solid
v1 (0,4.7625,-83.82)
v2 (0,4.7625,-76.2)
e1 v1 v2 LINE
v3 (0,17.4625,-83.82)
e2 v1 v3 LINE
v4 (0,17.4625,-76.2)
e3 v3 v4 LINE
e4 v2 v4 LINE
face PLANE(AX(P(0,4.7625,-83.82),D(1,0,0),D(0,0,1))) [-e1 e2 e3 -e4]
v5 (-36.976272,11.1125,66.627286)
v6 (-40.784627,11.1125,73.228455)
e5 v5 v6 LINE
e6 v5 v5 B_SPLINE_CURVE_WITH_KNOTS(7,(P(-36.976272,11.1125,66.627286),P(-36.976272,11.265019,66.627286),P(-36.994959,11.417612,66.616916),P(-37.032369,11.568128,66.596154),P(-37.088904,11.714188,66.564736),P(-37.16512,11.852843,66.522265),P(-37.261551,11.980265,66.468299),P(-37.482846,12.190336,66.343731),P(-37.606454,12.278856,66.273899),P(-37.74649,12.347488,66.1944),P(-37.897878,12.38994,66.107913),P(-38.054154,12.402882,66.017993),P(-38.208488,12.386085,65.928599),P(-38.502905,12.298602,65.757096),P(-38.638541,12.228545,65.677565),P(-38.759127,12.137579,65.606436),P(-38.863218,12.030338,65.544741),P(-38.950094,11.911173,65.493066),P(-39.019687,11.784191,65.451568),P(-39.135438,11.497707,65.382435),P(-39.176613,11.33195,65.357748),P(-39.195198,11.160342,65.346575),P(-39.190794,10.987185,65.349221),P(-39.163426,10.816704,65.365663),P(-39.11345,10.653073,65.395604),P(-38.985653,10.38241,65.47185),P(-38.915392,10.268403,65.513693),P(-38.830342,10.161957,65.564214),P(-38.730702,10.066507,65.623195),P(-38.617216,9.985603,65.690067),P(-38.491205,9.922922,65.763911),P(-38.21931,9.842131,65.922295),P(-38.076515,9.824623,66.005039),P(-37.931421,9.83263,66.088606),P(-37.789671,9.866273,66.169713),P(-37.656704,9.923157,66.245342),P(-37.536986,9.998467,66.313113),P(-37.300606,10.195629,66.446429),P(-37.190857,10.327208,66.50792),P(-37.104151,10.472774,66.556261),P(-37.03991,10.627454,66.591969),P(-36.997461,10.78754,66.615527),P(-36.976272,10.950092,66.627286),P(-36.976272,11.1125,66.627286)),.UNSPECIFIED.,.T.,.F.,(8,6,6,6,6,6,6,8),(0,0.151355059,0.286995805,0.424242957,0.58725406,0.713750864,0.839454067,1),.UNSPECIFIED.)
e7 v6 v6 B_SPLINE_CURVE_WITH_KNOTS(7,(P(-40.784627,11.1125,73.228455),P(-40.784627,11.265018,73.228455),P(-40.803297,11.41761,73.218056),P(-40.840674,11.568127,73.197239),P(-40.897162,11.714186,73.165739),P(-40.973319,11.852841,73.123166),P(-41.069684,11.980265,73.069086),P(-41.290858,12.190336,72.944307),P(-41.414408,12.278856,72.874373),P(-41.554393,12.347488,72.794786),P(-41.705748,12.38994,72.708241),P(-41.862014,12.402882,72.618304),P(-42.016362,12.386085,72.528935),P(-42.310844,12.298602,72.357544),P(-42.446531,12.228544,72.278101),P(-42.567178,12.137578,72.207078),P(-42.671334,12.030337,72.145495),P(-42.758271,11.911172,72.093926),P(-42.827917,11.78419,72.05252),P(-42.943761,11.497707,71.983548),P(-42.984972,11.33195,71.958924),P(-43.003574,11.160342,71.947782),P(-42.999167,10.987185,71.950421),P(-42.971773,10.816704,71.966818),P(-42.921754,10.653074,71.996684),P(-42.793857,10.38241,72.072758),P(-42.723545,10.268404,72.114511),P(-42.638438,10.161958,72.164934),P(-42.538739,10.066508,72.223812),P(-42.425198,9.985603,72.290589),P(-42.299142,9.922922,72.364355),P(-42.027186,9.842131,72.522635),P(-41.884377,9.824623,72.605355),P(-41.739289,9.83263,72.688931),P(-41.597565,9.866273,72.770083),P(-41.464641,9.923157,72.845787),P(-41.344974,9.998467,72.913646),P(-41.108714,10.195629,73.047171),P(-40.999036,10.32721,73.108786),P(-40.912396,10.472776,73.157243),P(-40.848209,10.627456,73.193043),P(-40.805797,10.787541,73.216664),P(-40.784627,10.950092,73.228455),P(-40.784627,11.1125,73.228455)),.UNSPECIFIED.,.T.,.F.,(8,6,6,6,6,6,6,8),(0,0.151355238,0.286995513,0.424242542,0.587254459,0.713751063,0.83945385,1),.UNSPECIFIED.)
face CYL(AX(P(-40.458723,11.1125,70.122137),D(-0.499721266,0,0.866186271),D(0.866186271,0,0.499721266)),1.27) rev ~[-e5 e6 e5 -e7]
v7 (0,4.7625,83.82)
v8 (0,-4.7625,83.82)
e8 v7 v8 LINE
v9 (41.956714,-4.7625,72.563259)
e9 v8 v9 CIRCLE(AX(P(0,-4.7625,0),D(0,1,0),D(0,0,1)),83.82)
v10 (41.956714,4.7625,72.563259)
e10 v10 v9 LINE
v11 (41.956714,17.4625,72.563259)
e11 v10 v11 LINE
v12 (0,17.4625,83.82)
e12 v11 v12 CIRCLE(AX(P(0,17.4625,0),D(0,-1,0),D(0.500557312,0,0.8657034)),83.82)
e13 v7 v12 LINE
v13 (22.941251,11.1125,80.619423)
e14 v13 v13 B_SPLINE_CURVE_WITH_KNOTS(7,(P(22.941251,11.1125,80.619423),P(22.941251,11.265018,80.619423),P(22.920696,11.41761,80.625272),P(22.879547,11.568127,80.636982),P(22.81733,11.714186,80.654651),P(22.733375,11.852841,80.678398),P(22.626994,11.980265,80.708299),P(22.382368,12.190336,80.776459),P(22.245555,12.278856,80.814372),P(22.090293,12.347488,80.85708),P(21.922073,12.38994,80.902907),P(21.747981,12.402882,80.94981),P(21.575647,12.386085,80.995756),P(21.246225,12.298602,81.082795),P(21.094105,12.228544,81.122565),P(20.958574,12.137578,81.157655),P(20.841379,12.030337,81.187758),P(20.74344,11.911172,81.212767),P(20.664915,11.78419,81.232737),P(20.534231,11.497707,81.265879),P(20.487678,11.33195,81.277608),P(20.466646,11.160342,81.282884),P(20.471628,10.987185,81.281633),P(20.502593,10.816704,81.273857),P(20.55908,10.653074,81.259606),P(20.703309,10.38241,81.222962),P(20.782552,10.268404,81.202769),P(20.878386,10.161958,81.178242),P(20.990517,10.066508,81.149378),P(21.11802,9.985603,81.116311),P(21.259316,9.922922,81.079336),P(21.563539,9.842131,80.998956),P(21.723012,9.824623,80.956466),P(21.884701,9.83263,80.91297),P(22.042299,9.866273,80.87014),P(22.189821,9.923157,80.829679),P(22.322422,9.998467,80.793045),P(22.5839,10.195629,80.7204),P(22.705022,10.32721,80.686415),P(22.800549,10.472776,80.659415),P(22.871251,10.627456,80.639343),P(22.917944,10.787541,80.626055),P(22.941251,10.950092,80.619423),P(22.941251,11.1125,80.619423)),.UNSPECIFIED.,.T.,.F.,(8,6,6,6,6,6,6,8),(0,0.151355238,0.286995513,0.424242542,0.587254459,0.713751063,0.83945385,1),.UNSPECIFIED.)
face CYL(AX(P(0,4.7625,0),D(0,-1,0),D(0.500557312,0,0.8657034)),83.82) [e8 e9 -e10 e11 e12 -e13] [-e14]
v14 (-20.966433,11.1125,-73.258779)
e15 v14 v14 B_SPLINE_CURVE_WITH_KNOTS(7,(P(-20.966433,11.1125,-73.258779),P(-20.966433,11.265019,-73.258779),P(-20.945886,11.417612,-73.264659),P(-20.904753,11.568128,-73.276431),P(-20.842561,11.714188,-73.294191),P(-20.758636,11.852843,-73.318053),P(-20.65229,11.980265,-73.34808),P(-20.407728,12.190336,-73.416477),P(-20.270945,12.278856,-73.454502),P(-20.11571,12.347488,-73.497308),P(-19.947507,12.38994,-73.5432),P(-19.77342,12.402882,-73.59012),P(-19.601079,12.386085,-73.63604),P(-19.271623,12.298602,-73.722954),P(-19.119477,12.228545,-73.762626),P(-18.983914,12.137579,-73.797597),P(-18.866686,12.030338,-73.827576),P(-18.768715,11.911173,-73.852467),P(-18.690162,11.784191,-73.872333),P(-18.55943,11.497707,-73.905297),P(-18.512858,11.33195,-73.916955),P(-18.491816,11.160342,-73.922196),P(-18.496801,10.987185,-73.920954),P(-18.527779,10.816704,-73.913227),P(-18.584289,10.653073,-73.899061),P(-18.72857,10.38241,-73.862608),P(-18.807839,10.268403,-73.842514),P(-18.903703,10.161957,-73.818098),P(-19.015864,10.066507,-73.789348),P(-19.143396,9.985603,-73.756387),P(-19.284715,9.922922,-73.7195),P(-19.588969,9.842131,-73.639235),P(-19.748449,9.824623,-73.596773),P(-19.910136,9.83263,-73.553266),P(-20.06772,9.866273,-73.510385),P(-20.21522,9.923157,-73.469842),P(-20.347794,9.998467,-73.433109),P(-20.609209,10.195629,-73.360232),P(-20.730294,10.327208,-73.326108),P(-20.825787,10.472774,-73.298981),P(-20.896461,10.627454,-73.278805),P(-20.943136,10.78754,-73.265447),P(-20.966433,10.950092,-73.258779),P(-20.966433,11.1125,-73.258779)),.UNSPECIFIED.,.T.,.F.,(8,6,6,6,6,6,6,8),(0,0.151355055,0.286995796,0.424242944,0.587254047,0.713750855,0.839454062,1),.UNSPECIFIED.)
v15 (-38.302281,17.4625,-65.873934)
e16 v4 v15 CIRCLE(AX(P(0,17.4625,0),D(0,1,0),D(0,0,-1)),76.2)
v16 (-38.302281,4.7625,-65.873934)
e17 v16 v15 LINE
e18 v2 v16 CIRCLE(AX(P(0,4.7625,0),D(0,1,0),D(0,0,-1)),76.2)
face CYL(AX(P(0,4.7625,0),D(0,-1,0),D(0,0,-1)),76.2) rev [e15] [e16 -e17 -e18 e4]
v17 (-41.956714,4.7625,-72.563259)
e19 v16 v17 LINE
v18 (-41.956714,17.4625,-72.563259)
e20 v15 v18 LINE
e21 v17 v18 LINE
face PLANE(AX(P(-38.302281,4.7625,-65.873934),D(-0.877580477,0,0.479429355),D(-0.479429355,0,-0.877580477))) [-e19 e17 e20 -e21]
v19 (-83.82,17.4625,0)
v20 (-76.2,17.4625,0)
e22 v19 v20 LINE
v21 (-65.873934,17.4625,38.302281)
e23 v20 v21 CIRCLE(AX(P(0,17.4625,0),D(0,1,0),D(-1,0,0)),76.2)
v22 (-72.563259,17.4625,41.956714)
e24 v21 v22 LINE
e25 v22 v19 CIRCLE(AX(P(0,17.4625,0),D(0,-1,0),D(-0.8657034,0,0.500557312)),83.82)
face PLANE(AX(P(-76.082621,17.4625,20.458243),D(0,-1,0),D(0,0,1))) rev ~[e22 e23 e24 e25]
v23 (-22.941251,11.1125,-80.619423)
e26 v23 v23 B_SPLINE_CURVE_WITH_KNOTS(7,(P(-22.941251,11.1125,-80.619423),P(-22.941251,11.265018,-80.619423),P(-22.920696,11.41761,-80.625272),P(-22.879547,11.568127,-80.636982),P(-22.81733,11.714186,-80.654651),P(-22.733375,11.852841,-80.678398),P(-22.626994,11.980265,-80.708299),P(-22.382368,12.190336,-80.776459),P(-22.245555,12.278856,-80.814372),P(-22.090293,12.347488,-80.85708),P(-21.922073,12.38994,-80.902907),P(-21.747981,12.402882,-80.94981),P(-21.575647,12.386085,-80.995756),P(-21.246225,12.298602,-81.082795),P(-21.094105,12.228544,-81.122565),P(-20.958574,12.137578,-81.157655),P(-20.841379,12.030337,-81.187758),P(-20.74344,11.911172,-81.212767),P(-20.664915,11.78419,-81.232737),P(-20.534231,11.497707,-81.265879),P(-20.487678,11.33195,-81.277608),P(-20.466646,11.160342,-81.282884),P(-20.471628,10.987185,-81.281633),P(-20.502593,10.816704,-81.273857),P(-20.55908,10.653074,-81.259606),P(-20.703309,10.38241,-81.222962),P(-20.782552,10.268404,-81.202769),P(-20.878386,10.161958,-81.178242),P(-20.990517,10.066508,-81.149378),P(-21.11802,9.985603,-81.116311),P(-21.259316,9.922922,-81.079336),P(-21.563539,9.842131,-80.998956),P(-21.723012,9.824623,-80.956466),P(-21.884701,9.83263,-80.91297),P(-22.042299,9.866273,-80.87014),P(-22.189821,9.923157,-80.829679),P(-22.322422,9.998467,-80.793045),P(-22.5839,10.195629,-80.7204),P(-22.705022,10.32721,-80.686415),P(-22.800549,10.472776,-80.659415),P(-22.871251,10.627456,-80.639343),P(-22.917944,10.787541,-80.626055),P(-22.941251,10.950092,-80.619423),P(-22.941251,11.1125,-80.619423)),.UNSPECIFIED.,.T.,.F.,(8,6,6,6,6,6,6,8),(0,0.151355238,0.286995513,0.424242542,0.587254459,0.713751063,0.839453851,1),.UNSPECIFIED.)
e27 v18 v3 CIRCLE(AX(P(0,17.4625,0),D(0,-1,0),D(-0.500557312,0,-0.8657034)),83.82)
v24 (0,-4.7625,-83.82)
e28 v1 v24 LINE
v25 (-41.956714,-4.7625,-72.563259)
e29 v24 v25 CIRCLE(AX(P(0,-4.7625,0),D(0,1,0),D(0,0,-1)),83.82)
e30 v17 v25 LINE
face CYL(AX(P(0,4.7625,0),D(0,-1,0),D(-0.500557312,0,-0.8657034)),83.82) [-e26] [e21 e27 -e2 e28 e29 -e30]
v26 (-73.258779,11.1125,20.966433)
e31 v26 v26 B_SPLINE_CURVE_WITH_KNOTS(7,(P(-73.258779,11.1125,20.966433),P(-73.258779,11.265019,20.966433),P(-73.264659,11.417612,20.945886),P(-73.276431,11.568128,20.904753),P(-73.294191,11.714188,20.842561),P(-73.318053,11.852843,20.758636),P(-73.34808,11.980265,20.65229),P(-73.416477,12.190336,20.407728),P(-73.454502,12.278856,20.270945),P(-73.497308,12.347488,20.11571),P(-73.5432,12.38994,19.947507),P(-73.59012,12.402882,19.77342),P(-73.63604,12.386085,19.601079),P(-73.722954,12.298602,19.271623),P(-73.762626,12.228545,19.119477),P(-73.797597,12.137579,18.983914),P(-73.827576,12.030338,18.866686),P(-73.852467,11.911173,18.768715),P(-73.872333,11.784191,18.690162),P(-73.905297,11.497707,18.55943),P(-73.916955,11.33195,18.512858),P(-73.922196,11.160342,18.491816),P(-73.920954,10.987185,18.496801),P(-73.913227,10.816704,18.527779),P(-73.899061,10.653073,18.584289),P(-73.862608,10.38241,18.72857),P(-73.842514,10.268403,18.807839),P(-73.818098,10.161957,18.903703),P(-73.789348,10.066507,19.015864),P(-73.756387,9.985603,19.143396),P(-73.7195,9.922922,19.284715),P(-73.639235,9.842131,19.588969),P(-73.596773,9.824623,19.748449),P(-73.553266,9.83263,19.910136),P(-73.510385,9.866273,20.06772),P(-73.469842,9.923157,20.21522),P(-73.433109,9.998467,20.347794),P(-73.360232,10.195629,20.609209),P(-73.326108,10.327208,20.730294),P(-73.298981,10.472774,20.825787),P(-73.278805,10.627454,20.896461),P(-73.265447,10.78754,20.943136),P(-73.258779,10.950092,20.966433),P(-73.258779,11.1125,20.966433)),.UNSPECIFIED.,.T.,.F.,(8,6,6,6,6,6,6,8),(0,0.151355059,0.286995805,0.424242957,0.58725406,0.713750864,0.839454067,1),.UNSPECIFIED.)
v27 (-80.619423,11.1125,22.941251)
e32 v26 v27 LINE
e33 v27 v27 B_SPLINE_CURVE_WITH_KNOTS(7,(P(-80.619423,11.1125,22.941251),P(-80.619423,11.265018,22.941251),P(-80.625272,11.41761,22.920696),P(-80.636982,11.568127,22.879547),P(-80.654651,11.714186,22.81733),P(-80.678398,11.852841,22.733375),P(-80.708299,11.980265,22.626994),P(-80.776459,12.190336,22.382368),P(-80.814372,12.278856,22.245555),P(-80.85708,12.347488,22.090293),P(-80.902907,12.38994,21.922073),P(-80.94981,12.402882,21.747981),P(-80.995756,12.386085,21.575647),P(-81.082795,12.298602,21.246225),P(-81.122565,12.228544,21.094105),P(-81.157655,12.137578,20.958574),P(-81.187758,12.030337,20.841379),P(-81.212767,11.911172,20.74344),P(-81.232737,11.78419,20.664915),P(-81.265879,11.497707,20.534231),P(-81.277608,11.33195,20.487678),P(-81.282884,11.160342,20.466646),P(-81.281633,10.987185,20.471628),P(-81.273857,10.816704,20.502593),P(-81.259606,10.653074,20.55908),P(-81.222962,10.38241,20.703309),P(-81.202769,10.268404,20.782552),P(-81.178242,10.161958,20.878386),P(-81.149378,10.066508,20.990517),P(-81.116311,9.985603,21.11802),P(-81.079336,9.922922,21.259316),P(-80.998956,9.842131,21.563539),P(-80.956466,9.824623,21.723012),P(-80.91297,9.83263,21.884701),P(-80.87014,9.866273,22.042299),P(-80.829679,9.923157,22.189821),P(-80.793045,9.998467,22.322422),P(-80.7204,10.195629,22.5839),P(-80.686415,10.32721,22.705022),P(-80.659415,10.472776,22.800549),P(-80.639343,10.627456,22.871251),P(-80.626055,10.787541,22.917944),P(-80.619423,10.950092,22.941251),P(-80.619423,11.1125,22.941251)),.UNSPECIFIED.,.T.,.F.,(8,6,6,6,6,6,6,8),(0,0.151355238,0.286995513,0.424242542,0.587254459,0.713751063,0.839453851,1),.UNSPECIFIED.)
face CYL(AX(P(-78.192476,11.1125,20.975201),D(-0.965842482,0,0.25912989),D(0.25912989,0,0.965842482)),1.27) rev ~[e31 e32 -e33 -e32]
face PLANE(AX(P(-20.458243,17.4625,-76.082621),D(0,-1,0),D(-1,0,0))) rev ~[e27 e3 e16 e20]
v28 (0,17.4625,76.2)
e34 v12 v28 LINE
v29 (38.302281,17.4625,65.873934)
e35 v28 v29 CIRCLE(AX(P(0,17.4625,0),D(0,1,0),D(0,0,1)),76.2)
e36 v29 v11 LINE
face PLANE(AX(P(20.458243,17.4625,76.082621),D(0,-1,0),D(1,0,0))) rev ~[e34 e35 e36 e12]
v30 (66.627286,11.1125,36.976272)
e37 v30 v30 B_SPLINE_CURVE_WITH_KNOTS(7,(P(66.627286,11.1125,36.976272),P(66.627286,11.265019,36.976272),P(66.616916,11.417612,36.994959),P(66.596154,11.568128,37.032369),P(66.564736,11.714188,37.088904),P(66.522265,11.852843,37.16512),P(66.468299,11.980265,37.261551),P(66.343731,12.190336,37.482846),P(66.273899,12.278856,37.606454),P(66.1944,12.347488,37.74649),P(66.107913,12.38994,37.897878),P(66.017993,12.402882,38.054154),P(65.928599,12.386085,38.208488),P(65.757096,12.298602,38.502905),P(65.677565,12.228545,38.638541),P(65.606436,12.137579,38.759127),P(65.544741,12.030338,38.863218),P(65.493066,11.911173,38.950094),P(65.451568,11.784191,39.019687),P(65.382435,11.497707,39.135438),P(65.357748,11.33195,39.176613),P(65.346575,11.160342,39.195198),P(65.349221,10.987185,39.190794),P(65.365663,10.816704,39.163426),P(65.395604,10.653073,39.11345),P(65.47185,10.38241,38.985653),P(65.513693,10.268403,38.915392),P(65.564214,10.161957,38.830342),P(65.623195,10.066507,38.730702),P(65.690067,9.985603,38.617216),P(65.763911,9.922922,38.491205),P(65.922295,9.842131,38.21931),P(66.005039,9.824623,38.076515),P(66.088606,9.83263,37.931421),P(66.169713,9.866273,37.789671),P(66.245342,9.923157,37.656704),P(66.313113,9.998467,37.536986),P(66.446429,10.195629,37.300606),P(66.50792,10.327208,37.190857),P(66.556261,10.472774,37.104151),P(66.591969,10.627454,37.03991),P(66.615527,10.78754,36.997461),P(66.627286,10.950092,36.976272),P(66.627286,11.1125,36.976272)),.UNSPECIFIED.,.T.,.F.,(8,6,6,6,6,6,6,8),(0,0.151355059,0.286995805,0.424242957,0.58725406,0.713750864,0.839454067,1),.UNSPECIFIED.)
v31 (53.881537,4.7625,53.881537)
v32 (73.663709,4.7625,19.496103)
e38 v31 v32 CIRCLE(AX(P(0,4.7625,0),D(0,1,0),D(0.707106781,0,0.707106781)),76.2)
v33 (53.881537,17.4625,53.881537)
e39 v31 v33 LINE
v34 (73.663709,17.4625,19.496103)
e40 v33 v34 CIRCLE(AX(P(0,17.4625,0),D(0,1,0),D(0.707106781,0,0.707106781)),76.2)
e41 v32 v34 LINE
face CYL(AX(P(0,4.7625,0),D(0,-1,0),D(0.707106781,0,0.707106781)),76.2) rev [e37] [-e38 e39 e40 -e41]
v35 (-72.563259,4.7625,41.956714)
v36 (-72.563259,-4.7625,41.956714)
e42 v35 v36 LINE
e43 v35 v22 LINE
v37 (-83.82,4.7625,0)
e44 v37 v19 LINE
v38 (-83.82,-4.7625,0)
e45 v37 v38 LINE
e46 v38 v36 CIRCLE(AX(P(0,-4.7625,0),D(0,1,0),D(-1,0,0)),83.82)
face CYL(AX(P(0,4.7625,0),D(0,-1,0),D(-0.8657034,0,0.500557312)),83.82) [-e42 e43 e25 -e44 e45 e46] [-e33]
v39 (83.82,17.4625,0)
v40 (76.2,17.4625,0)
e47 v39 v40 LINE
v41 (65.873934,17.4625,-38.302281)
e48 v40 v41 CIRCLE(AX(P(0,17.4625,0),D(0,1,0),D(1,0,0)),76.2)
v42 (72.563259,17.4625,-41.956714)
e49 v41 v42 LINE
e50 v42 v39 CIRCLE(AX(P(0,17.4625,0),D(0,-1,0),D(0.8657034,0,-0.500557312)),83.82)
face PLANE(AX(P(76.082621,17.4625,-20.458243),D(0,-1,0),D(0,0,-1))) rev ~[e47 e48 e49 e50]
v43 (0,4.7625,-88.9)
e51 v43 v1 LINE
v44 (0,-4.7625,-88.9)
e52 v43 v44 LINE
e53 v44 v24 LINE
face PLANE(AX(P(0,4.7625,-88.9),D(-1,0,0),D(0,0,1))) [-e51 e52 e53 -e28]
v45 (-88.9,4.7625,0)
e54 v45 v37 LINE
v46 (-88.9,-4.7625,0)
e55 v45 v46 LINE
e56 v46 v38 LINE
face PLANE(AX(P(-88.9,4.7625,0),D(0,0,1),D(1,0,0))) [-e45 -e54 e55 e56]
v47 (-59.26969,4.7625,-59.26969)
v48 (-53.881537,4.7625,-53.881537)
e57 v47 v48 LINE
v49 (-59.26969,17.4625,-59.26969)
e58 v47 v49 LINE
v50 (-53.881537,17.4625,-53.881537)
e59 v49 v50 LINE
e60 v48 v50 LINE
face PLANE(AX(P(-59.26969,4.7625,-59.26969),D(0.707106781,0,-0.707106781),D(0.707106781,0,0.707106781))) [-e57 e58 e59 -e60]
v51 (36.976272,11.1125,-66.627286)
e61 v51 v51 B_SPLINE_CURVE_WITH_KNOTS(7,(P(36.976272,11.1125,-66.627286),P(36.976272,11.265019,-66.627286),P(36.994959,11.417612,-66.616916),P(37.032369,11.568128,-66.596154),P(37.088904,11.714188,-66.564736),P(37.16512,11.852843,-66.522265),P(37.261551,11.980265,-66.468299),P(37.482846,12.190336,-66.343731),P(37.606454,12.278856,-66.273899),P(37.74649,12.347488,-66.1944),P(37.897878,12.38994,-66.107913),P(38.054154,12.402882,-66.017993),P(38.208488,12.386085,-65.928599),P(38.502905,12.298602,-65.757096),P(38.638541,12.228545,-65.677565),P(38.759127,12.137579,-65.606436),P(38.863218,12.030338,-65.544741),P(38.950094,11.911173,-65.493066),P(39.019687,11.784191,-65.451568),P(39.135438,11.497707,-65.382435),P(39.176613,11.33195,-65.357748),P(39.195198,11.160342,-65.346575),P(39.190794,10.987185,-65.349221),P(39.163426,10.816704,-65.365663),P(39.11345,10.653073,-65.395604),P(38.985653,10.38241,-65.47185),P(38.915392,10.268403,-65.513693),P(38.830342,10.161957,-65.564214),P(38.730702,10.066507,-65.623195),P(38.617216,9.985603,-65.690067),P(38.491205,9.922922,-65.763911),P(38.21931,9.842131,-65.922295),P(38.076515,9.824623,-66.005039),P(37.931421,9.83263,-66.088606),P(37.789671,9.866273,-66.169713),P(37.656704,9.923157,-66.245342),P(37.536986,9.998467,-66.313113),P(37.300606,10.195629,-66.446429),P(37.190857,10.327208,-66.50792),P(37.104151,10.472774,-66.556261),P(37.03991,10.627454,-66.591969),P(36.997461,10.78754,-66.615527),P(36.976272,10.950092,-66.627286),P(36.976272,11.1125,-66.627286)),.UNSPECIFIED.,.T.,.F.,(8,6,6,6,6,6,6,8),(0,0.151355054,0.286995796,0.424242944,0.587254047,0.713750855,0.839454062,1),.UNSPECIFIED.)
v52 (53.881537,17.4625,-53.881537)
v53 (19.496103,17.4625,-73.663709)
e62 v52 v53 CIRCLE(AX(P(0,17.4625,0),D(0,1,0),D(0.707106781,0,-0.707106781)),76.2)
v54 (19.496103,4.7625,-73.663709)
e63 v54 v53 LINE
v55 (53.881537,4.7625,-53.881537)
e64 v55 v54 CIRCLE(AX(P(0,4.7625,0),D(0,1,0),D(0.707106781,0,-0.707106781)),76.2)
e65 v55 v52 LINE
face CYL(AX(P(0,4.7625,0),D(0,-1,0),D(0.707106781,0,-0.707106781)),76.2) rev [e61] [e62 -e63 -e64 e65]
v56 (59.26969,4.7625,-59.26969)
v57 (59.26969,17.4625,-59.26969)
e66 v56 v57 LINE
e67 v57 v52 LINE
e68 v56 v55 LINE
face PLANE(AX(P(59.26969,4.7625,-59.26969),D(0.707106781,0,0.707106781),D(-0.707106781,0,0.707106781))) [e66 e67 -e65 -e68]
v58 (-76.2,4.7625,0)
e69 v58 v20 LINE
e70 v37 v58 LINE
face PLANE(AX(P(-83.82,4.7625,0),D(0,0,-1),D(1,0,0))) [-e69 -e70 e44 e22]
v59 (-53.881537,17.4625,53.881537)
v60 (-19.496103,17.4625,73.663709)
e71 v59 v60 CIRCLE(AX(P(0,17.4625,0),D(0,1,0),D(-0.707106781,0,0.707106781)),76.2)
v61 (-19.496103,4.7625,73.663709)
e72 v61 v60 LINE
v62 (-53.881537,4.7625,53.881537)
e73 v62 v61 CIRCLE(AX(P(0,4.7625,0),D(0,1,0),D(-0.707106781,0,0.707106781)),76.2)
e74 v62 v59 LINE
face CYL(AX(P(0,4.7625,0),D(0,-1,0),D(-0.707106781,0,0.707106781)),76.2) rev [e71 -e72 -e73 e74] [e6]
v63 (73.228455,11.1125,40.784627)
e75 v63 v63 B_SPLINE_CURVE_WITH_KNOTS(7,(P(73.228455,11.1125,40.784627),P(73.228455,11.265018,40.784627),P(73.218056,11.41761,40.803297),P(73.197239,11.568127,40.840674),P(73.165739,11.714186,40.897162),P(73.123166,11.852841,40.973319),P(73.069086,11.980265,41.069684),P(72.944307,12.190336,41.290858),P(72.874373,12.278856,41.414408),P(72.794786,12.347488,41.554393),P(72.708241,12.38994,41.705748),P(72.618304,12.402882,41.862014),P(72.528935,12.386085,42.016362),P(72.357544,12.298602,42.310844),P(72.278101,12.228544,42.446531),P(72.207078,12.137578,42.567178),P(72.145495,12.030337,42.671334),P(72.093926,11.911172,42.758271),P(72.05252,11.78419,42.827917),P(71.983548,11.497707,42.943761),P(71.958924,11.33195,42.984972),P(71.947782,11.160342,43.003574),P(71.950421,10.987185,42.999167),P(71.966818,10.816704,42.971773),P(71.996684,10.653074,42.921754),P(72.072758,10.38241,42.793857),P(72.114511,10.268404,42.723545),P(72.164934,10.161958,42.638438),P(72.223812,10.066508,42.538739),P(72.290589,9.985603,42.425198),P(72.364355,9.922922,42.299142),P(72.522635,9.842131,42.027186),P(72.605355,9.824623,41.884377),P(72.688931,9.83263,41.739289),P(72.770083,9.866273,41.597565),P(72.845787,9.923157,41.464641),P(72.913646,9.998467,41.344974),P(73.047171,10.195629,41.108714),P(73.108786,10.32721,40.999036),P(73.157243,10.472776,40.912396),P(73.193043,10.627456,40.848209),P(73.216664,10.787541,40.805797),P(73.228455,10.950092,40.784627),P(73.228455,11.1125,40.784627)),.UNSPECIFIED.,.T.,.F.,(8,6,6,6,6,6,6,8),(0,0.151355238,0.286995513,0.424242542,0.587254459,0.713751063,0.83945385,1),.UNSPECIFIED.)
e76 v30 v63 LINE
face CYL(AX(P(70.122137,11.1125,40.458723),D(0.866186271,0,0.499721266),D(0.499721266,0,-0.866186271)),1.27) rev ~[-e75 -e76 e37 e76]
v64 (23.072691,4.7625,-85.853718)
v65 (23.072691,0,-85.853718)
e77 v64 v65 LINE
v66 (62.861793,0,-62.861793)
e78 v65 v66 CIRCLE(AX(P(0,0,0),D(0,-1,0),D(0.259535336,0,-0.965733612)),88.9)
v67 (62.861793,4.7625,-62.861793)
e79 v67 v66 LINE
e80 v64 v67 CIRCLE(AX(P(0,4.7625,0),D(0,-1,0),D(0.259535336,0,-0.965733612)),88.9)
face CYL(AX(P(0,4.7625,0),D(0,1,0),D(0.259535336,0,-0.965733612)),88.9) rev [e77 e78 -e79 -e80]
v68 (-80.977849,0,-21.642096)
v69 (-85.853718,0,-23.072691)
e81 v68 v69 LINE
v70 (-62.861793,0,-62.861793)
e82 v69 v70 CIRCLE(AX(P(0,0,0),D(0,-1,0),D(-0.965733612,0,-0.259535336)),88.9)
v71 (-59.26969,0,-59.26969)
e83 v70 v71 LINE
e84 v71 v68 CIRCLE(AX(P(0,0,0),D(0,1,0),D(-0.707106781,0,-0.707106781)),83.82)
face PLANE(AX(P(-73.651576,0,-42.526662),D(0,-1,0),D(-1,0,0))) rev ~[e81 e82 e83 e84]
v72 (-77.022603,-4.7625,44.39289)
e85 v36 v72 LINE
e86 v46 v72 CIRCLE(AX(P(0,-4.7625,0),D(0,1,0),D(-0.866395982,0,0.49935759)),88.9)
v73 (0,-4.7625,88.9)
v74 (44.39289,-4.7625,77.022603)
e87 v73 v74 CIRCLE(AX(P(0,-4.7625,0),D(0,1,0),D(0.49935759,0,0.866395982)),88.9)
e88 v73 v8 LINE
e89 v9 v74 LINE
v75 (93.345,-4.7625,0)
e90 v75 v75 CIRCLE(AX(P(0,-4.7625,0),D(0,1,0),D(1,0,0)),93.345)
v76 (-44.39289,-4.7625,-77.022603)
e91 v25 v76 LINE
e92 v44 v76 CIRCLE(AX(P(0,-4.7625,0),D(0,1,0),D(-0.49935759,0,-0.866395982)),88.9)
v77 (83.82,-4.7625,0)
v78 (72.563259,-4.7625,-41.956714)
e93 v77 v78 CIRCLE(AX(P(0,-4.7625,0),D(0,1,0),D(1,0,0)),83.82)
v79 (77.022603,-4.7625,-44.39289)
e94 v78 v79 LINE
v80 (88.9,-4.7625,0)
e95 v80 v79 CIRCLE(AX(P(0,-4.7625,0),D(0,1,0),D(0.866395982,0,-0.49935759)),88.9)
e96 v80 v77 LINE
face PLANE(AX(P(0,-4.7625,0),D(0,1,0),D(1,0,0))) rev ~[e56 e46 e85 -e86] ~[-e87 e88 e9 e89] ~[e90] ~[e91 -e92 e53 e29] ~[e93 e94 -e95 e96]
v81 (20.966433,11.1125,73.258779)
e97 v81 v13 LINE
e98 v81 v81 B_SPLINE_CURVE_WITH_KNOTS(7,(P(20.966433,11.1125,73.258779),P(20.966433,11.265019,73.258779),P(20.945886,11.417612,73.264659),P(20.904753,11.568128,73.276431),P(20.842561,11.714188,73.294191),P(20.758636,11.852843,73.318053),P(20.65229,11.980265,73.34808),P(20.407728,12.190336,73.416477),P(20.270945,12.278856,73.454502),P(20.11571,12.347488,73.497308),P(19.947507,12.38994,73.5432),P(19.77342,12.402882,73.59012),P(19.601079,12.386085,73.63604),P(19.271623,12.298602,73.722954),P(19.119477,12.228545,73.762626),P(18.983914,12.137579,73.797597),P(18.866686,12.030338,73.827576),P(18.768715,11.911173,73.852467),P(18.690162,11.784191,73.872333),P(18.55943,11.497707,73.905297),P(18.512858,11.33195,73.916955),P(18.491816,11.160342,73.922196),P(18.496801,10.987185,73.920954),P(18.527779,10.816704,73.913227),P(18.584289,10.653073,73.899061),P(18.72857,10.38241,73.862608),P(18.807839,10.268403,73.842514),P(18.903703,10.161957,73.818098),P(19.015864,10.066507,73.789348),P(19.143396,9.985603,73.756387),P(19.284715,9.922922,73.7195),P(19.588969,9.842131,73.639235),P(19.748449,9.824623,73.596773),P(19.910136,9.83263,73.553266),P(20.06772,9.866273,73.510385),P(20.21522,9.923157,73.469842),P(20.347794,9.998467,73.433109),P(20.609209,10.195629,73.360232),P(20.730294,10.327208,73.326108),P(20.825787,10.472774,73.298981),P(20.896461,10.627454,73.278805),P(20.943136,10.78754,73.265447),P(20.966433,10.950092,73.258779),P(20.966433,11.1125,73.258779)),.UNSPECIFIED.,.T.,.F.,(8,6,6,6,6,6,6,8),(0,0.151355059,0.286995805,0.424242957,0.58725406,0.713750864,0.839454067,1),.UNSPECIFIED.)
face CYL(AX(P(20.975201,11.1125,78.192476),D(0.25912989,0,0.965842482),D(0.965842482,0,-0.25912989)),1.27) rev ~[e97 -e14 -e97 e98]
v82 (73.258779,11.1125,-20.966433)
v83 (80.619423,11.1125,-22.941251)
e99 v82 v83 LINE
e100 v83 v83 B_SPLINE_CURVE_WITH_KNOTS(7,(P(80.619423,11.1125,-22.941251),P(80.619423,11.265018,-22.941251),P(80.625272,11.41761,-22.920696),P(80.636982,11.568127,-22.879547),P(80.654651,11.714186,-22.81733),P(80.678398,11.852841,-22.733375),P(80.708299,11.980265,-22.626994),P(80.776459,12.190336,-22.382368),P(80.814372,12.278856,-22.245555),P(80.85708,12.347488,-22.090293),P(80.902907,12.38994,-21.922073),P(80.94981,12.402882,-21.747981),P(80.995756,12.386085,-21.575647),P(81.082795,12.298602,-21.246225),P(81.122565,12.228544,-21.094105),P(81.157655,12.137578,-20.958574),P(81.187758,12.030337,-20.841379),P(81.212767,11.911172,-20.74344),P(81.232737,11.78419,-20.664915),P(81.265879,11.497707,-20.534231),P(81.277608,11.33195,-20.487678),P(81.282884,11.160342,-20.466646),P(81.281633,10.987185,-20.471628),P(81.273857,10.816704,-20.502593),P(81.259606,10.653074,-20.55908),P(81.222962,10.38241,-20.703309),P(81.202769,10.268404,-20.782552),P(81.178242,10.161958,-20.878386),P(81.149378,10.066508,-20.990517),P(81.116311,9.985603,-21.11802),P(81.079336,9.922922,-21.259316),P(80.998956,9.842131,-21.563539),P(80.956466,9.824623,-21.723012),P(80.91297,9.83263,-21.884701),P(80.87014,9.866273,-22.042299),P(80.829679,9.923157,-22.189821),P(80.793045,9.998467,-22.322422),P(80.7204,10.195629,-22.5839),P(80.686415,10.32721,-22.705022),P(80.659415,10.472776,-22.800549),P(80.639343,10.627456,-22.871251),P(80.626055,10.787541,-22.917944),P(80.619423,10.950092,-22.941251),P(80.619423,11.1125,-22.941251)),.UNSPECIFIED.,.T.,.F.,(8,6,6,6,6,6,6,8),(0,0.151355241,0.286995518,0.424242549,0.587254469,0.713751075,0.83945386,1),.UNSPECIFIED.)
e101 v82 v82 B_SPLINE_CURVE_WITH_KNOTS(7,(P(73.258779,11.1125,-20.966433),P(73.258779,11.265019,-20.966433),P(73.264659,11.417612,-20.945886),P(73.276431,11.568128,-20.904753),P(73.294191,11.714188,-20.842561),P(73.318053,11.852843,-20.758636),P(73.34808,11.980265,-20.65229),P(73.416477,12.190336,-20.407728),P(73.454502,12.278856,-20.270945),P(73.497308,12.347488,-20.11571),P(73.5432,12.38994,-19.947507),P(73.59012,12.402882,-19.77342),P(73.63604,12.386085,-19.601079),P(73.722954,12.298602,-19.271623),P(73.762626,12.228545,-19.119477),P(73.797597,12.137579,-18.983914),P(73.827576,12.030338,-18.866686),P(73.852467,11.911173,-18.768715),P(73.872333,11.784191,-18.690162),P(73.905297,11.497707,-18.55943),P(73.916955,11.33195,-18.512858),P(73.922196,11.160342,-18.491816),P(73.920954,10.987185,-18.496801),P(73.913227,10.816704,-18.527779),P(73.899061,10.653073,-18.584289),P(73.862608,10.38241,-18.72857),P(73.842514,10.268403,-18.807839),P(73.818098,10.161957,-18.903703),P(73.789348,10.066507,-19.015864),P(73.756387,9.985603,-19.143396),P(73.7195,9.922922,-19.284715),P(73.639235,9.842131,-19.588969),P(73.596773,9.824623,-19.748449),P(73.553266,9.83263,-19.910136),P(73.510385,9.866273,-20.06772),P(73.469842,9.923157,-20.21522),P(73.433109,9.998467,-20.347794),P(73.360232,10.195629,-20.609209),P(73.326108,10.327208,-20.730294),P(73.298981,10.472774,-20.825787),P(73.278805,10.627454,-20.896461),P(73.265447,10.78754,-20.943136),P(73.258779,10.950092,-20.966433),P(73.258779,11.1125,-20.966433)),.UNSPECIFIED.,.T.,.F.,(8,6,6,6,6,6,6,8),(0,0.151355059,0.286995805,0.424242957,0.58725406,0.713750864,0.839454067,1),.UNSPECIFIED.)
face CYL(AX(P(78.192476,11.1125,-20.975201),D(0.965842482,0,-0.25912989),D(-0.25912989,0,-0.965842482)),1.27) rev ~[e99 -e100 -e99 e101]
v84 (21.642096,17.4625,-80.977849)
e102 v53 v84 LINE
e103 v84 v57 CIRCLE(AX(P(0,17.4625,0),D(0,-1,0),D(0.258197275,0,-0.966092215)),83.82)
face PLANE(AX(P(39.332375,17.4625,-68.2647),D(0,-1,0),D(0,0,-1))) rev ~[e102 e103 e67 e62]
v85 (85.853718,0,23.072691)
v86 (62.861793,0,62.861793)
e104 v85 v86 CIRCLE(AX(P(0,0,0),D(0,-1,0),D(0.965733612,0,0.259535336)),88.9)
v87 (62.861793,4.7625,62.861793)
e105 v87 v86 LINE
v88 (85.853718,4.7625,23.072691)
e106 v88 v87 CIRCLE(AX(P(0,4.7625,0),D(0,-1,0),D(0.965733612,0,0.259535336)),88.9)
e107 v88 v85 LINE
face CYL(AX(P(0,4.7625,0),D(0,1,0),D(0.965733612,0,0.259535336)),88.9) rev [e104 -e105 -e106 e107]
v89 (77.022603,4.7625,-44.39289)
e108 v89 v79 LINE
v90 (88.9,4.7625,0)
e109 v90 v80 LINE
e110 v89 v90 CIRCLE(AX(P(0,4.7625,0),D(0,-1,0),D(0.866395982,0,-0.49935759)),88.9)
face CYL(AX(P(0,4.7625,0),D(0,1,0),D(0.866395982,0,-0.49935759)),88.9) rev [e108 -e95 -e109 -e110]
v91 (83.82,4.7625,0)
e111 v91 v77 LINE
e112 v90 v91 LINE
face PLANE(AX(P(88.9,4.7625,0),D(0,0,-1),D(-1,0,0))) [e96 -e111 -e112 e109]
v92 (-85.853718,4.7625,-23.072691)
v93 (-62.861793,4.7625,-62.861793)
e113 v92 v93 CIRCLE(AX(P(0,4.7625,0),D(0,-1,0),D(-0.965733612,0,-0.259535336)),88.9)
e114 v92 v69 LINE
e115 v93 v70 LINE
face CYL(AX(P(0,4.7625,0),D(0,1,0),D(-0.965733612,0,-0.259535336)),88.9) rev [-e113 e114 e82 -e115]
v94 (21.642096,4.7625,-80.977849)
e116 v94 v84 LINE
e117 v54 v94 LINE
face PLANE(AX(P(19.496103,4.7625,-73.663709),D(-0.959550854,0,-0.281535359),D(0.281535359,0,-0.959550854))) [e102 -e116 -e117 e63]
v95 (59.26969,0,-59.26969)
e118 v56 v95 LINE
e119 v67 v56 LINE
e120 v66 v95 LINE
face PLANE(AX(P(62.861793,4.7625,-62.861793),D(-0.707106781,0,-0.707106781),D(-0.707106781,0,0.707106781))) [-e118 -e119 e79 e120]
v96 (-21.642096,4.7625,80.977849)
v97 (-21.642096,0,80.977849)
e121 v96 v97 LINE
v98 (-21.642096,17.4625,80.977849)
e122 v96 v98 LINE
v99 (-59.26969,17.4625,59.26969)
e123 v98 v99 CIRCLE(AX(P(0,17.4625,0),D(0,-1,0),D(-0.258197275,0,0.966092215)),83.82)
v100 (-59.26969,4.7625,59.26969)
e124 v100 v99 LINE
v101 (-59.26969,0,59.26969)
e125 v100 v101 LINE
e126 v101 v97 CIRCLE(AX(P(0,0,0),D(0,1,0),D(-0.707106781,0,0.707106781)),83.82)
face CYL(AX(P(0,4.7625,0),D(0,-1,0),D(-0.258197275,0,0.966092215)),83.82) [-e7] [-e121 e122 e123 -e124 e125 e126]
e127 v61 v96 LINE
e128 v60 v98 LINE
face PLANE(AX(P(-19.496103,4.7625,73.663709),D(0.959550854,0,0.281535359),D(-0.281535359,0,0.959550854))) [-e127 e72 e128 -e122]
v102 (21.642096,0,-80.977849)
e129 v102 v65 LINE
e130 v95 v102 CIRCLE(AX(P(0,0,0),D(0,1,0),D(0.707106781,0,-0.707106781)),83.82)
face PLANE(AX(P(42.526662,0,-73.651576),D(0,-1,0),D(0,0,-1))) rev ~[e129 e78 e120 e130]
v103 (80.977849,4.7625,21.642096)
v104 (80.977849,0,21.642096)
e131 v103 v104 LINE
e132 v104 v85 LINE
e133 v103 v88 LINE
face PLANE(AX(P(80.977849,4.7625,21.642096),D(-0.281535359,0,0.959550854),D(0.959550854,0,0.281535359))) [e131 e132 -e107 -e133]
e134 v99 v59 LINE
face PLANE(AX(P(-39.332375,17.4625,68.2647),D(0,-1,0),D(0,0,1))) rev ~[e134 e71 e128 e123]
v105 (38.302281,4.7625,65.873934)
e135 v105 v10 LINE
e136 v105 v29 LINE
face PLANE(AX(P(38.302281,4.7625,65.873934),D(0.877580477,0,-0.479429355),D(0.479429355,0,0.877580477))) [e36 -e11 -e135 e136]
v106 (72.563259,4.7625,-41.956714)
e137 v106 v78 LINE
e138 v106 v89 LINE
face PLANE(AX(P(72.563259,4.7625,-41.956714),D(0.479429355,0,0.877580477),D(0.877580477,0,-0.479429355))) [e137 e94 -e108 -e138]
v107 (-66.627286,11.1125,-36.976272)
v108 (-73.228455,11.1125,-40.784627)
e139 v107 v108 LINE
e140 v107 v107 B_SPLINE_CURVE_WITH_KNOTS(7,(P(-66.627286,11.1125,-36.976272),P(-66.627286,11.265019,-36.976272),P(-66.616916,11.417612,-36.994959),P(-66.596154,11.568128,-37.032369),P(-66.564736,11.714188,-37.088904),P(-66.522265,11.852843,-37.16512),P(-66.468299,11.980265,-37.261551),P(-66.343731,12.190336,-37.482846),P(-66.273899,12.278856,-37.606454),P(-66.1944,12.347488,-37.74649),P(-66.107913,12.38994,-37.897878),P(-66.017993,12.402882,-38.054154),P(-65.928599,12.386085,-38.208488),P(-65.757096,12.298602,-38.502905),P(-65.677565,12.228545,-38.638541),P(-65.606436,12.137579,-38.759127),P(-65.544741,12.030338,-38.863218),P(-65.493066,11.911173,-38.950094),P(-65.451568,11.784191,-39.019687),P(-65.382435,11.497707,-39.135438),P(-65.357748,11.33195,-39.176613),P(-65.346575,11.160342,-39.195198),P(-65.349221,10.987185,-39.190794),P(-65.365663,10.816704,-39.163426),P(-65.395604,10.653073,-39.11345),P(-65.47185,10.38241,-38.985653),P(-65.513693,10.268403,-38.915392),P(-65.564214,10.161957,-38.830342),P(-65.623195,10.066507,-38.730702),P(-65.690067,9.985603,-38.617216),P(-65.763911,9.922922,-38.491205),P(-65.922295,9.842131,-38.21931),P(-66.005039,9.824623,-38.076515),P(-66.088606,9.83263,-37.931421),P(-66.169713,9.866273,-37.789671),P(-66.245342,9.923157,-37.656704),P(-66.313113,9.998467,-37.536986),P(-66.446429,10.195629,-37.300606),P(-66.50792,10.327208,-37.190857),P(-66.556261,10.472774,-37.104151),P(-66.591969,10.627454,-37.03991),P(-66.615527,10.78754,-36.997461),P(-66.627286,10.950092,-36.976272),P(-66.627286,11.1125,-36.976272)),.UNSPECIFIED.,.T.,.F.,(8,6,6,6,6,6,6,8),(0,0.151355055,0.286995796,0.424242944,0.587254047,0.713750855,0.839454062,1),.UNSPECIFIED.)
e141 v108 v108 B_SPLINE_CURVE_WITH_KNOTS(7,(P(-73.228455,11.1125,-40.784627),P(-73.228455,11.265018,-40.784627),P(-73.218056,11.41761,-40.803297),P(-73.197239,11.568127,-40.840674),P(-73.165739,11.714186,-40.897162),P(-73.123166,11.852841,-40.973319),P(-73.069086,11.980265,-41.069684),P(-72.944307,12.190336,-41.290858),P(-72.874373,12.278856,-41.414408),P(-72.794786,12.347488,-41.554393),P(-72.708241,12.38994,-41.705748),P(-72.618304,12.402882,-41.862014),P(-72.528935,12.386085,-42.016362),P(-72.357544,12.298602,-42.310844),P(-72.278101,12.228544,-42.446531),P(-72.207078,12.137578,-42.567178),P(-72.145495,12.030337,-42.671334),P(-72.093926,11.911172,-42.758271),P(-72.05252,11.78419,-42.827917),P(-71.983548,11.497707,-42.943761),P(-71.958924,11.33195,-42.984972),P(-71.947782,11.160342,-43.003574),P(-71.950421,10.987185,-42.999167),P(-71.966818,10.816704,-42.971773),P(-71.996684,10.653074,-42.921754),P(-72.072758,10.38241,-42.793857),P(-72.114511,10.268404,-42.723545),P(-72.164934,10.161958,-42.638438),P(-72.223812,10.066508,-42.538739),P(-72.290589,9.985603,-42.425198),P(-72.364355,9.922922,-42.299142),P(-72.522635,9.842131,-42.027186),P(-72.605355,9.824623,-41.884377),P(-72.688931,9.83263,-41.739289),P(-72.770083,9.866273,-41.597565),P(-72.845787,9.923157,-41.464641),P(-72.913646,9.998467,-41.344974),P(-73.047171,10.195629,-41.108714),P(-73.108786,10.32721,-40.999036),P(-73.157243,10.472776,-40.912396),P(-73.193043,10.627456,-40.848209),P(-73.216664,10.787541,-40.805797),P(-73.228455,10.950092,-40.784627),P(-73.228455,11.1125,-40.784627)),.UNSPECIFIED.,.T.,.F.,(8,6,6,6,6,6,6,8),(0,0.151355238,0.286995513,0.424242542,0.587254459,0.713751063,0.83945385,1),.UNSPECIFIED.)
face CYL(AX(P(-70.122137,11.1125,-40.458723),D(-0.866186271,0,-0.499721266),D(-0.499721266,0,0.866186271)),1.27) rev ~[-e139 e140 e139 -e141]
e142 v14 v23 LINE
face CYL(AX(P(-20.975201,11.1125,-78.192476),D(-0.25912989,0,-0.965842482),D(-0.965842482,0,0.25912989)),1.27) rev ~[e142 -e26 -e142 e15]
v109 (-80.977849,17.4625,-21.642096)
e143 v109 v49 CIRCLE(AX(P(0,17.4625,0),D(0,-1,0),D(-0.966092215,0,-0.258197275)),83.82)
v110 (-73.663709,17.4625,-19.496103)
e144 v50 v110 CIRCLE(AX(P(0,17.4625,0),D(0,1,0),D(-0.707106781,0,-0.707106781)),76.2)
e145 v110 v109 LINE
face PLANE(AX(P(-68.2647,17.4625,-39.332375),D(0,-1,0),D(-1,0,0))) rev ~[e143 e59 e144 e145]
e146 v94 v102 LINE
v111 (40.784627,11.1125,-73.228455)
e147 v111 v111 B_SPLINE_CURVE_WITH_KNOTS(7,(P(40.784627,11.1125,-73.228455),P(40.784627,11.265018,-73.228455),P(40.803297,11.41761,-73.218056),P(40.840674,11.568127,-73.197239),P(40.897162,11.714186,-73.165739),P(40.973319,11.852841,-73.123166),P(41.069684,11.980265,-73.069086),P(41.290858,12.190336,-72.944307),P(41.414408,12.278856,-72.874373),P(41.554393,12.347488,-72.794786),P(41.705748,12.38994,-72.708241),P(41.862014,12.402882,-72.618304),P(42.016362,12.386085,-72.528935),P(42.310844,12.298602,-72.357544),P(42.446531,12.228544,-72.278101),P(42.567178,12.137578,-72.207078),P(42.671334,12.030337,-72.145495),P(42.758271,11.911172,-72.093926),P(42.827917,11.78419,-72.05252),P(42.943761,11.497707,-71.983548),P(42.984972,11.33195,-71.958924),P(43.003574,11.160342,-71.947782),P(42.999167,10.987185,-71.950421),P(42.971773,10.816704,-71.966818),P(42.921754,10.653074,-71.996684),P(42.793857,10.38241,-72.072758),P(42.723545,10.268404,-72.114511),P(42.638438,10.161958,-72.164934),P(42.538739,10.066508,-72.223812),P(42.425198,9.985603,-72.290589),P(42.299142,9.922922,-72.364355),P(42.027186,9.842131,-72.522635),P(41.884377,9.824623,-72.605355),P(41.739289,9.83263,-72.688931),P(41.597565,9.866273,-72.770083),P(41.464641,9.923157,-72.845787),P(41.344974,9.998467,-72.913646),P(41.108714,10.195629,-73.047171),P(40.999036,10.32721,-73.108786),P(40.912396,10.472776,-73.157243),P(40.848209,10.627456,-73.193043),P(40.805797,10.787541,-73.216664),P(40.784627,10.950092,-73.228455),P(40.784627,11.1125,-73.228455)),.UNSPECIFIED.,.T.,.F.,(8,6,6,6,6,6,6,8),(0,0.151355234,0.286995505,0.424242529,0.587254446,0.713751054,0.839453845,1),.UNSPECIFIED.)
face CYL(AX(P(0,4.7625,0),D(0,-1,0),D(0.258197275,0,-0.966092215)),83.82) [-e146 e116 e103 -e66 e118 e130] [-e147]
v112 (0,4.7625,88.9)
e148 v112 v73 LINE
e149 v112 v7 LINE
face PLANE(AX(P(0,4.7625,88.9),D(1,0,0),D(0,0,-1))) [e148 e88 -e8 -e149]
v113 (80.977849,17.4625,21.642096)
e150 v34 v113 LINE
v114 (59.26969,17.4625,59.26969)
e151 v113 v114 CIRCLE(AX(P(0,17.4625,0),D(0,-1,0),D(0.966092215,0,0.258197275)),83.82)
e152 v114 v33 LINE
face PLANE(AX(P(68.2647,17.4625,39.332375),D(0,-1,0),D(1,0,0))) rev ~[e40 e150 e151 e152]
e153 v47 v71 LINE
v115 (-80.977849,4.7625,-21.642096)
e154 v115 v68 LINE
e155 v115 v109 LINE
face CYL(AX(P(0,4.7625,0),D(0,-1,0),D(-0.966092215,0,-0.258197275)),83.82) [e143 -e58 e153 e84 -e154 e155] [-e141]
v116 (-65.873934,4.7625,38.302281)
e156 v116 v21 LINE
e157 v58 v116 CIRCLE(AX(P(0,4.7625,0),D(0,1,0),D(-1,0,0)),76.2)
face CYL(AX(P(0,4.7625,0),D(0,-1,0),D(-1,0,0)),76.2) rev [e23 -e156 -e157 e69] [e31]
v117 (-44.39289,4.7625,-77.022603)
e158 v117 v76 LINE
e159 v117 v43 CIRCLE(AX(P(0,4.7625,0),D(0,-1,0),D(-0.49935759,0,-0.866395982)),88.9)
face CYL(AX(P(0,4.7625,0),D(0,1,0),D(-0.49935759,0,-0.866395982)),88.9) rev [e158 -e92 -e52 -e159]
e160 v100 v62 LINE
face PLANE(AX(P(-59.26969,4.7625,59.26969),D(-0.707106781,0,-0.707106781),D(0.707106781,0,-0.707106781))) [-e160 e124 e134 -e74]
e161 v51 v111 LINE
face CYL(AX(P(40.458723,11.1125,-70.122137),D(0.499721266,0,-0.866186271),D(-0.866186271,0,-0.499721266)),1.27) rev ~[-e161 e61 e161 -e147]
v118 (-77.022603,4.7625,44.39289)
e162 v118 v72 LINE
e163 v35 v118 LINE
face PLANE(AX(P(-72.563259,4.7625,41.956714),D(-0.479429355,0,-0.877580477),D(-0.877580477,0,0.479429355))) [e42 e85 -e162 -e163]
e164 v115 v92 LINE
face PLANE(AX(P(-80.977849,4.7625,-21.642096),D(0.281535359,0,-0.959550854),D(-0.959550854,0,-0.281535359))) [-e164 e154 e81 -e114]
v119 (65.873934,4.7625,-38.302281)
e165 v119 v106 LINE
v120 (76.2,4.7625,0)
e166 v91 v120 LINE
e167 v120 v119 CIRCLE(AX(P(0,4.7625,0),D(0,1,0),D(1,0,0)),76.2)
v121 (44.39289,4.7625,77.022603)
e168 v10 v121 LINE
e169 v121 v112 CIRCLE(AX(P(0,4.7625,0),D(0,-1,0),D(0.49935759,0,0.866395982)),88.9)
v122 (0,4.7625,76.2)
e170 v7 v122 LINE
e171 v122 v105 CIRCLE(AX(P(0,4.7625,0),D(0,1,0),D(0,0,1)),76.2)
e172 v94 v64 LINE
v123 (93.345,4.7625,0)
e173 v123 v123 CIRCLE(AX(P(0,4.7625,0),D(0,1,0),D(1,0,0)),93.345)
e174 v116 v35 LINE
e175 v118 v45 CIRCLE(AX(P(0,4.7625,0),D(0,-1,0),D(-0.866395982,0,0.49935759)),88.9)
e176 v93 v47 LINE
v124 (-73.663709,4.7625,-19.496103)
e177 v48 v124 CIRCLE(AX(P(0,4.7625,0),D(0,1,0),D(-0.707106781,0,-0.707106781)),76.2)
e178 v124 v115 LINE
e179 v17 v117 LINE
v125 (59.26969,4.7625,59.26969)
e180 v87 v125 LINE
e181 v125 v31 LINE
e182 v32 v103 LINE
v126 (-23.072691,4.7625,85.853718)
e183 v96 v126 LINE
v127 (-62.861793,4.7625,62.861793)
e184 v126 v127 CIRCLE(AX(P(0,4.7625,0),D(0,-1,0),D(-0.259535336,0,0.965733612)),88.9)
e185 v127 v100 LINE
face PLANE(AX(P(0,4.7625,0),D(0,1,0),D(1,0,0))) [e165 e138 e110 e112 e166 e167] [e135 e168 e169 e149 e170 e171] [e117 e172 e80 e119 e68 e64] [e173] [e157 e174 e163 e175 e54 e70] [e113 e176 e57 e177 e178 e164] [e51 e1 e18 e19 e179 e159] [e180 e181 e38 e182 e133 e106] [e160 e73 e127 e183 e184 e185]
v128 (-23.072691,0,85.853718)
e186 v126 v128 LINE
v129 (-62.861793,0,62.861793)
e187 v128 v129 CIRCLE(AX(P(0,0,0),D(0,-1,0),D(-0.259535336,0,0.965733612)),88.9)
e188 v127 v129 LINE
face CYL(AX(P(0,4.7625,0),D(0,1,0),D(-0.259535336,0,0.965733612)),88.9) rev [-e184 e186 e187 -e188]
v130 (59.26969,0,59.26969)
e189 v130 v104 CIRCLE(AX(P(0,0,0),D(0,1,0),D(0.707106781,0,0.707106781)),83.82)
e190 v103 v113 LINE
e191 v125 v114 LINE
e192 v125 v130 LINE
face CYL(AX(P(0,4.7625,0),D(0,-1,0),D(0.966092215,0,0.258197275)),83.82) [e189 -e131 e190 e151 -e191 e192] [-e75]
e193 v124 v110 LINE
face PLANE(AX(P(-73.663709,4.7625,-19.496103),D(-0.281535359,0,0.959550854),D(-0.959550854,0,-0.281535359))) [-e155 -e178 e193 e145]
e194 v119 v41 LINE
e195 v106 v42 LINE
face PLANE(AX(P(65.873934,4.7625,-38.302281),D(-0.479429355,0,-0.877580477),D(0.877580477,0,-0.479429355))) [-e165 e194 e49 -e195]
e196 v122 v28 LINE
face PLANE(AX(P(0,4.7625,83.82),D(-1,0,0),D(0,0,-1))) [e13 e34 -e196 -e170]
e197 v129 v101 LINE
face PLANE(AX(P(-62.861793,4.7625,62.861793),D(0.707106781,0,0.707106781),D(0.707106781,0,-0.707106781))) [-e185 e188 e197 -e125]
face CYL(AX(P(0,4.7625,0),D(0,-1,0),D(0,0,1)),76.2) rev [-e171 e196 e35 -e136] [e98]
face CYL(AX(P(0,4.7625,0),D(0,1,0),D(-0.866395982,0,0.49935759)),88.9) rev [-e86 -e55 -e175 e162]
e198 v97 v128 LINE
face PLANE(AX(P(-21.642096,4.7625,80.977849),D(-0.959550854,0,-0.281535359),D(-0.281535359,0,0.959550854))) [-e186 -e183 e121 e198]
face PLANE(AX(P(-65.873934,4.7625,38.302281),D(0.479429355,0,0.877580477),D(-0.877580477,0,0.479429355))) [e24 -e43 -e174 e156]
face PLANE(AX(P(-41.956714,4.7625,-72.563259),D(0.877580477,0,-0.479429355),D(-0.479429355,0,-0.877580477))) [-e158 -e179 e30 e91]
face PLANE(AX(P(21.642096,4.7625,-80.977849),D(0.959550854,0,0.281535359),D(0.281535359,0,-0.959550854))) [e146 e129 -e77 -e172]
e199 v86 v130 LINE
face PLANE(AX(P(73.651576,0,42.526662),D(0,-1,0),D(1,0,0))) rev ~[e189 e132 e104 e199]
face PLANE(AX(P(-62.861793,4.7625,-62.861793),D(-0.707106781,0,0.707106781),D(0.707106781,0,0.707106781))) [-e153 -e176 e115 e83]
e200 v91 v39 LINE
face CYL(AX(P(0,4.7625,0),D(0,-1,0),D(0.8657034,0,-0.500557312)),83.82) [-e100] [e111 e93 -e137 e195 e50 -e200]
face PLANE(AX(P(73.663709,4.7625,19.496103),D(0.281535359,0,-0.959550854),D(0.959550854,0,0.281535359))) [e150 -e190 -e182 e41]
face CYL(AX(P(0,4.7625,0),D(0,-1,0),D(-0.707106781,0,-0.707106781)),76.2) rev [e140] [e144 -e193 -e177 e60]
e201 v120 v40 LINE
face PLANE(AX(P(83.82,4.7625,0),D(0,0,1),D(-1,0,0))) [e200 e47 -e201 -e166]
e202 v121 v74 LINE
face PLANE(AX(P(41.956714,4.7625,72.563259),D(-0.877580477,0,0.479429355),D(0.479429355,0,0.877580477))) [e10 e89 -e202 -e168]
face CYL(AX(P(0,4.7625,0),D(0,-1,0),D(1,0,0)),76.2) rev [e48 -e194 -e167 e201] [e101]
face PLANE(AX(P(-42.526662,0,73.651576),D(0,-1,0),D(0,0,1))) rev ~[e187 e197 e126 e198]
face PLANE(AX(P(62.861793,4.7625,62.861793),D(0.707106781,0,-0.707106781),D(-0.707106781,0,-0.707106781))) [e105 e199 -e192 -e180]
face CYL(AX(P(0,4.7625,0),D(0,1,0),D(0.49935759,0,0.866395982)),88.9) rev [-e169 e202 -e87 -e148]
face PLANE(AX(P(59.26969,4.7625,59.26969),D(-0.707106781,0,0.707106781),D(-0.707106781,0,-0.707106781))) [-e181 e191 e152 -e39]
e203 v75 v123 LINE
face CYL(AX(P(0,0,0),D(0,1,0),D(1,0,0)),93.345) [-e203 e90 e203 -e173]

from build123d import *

# Parameters (mm, degrees)
BASE_DEPTH                 = 4.7625
BASE_DEPTH_BACK            = 4.7625
SKETCH1_R                  = 93.345
BOTTOM_SUPPORT_HOLES_DEPTH = 133.352951138
BOTTOM_START               = 12.7
BOTTOM_SUPPORT_GUIDE_DEPTH = 12.7
SKETCH6_R                  = 1.27
BOTTOM_BOLT_HOLE_DEPTH     = 12.7
TOP_SUPPORT_HOLES_DEPTH    = 4.7625
TOP_START                  = 12.7
TOP_SUPPORT_GUIDE_DEPTH    = 12.7
SKETCH12_R                 = 1.27
TOP_BOLT_HOLE_DEPTH        = 12.7
BOTTOM_PATTERN_COUNT       = 4
CIRPATTERN3_COUNT          = 4


with BuildPart() as part:
    # Sketch1 → Base (new, two sides: drawn at the far end of the back side and taken through both)
    with BuildSketch(Plane(origin=(0, 0, 0), x_dir=(1, 0, 0), z_dir=(0, 1, 0)).offset(-BASE_DEPTH_BACK)):
        Circle(SKETCH1_R)
    extrude(amount=BASE_DEPTH + BASE_DEPTH_BACK)

    # Sketch2 → Bottom support holes (cut, through all)
    with BuildSketch(Plane(origin=(0, 4.7625, 0), x_dir=(1, 0, 0), z_dir=(0, 1, 0))):
        with BuildLine():
            Line((0, 88.9), (0, 83.82))
            ThreePointArc((0, 83.82), (-21.72026739, 80.956916842), (-41.956713931, 72.563258996))
            Line((-41.956713931, 72.563258996), (-44.39288973, 77.022602796))
            ThreePointArc((-44.39288973, 77.022602796), (-22.977169228, 85.879332172), (0, 88.9))
        make_face()
    bottom_support_holes = extrude(amount=-BOTTOM_SUPPORT_HOLES_DEPTH, mode=Mode.SUBTRACT)

    # Sketch3 → Bottom support guide (add)
    with BuildSketch(Plane(origin=(0, 4.7625, 0), x_dir=(1, 0, 0), z_dir=(0, 1, 0)).offset(BOTTOM_START)):
        with BuildLine():
            Line((0, 83.82), (0, 76.2))
            ThreePointArc((0, 76.2), (-19.834896001, 73.573207764), (-38.302281481, 65.8739344))
            Line((-38.302281481, 65.8739344), (-41.956713931, 72.563258996))
            ThreePointArc((-41.956713931, 72.563258996), (-21.72026739, 80.956916842), (0, 83.82))
        make_face()
    bottom_support_guide = extrude(amount=-BOTTOM_SUPPORT_GUIDE_DEPTH)

    # Sketch6 → Bottom bolt hole (cut, symmetric)
    with BuildSketch(Plane(origin=(-20.978356966, 0, -78.191629498), x_dir=(-0.9658424820058785, 0, 0.2591298901183038), z_dir=(-0.2591298901183038, 0, -0.9658424820058785))):
        with Locations((-0.00326739, 11.1125)):
            Circle(SKETCH6_R)
    bottom_bolt_hole = extrude(amount=BOTTOM_BOLT_HOLE_DEPTH, both=True, mode=Mode.SUBTRACT)

    # Sketch8 → Top support holes (cut)
    with BuildSketch(Plane(origin=(-31.122978549, 4.7625, 77.296707326), x_dir=(1, 0, 0), z_dir=(0, 1, 0))):
        with BuildLine():
            Line((-31.738814298, 140.158500173), (-28.14671185, 136.566397725))
            ThreePointArc((-28.14671185, 136.566397725), (-41.480754694, 119.183343848), (-49.854870889, 98.93880289))
            Line((-49.854870889, 98.93880289), (-54.730739557, 100.369398703))
            ThreePointArc((-54.730739557, 100.369398703), (-45.850191767, 121.775253295), (-31.738814298, 140.158500173))
        make_face()
    top_support_holes = extrude(amount=-TOP_SUPPORT_HOLES_DEPTH, mode=Mode.SUBTRACT)

    # Sketch10 → Top support guide (add)
    with BuildSketch(Plane(origin=(-31.122978549, 4.7625, 77.296707326), x_dir=(1, 0, 0), z_dir=(0, 1, 0)).offset(TOP_START)):
        with BuildLine():
            Line((-28.14671185, 136.566397725), (-22.758558177, 131.178244052))
            ThreePointArc((-22.758558177, 131.178244052), (-34.92652504, 115.295431983), (-42.540730139, 96.792810073))
            Line((-42.540730139, 96.792810073), (-49.854870889, 98.93880289))
            ThreePointArc((-49.854870889, 98.93880289), (-41.480754694, 119.183343848), (-28.14671185, 136.566397725))
        make_face()
    top_support_guide = extrude(amount=-TOP_SUPPORT_GUIDE_DEPTH)

    # Sketch12 → Top bolt hole (cut, symmetric)
    with BuildSketch(Plane(origin=(-70.123769919, 0, -40.455892982), x_dir=(-0.4997212660736201, -5.817861610189737e-15, 0.8661862710951832), z_dir=(-0.8661862710951832, 1.404556040332972e-14, -0.4997212660736201))):
        with Locations((-0.00326739, 11.1125)):
            Circle(SKETCH12_R)
    top_bolt_hole = extrude(amount=TOP_BOLT_HOLE_DEPTH, both=True, mode=Mode.SUBTRACT)

    # Bottom pattern: Bottom support holes, Bottom support guide, Bottom bolt hole ×4 about axis
    bottom_pattern_axis = Axis((0, 4.7625, 0), (0, 1, 0))
    add([bottom_support_holes.rotate(bottom_pattern_axis, i * 360 / BOTTOM_PATTERN_COUNT) for i in range(1, BOTTOM_PATTERN_COUNT)], mode=Mode.SUBTRACT)
    add([bottom_support_guide.rotate(bottom_pattern_axis, i * 360 / BOTTOM_PATTERN_COUNT) for i in range(1, BOTTOM_PATTERN_COUNT)])
    add([bottom_bolt_hole.rotate(bottom_pattern_axis, i * 360 / BOTTOM_PATTERN_COUNT) for i in range(1, BOTTOM_PATTERN_COUNT)], mode=Mode.SUBTRACT)

    # CirPattern3: Top support holes, Top support guide, Top bolt hole ×4 about axis
    cirpattern3_axis = Axis((0, 4.7625, 0), (0, 1, 0))
    add([top_support_holes.rotate(cirpattern3_axis, i * 360 / CIRPATTERN3_COUNT) for i in range(1, CIRPATTERN3_COUNT)], mode=Mode.SUBTRACT)
    add([top_support_guide.rotate(cirpattern3_axis, i * 360 / CIRPATTERN3_COUNT) for i in range(1, CIRPATTERN3_COUNT)])
    add([top_bolt_hole.rotate(cirpattern3_axis, i * 360 / CIRPATTERN3_COUNT) for i in range(1, CIRPATTERN3_COUNT)], mode=Mode.SUBTRACT)


solid = part.part
